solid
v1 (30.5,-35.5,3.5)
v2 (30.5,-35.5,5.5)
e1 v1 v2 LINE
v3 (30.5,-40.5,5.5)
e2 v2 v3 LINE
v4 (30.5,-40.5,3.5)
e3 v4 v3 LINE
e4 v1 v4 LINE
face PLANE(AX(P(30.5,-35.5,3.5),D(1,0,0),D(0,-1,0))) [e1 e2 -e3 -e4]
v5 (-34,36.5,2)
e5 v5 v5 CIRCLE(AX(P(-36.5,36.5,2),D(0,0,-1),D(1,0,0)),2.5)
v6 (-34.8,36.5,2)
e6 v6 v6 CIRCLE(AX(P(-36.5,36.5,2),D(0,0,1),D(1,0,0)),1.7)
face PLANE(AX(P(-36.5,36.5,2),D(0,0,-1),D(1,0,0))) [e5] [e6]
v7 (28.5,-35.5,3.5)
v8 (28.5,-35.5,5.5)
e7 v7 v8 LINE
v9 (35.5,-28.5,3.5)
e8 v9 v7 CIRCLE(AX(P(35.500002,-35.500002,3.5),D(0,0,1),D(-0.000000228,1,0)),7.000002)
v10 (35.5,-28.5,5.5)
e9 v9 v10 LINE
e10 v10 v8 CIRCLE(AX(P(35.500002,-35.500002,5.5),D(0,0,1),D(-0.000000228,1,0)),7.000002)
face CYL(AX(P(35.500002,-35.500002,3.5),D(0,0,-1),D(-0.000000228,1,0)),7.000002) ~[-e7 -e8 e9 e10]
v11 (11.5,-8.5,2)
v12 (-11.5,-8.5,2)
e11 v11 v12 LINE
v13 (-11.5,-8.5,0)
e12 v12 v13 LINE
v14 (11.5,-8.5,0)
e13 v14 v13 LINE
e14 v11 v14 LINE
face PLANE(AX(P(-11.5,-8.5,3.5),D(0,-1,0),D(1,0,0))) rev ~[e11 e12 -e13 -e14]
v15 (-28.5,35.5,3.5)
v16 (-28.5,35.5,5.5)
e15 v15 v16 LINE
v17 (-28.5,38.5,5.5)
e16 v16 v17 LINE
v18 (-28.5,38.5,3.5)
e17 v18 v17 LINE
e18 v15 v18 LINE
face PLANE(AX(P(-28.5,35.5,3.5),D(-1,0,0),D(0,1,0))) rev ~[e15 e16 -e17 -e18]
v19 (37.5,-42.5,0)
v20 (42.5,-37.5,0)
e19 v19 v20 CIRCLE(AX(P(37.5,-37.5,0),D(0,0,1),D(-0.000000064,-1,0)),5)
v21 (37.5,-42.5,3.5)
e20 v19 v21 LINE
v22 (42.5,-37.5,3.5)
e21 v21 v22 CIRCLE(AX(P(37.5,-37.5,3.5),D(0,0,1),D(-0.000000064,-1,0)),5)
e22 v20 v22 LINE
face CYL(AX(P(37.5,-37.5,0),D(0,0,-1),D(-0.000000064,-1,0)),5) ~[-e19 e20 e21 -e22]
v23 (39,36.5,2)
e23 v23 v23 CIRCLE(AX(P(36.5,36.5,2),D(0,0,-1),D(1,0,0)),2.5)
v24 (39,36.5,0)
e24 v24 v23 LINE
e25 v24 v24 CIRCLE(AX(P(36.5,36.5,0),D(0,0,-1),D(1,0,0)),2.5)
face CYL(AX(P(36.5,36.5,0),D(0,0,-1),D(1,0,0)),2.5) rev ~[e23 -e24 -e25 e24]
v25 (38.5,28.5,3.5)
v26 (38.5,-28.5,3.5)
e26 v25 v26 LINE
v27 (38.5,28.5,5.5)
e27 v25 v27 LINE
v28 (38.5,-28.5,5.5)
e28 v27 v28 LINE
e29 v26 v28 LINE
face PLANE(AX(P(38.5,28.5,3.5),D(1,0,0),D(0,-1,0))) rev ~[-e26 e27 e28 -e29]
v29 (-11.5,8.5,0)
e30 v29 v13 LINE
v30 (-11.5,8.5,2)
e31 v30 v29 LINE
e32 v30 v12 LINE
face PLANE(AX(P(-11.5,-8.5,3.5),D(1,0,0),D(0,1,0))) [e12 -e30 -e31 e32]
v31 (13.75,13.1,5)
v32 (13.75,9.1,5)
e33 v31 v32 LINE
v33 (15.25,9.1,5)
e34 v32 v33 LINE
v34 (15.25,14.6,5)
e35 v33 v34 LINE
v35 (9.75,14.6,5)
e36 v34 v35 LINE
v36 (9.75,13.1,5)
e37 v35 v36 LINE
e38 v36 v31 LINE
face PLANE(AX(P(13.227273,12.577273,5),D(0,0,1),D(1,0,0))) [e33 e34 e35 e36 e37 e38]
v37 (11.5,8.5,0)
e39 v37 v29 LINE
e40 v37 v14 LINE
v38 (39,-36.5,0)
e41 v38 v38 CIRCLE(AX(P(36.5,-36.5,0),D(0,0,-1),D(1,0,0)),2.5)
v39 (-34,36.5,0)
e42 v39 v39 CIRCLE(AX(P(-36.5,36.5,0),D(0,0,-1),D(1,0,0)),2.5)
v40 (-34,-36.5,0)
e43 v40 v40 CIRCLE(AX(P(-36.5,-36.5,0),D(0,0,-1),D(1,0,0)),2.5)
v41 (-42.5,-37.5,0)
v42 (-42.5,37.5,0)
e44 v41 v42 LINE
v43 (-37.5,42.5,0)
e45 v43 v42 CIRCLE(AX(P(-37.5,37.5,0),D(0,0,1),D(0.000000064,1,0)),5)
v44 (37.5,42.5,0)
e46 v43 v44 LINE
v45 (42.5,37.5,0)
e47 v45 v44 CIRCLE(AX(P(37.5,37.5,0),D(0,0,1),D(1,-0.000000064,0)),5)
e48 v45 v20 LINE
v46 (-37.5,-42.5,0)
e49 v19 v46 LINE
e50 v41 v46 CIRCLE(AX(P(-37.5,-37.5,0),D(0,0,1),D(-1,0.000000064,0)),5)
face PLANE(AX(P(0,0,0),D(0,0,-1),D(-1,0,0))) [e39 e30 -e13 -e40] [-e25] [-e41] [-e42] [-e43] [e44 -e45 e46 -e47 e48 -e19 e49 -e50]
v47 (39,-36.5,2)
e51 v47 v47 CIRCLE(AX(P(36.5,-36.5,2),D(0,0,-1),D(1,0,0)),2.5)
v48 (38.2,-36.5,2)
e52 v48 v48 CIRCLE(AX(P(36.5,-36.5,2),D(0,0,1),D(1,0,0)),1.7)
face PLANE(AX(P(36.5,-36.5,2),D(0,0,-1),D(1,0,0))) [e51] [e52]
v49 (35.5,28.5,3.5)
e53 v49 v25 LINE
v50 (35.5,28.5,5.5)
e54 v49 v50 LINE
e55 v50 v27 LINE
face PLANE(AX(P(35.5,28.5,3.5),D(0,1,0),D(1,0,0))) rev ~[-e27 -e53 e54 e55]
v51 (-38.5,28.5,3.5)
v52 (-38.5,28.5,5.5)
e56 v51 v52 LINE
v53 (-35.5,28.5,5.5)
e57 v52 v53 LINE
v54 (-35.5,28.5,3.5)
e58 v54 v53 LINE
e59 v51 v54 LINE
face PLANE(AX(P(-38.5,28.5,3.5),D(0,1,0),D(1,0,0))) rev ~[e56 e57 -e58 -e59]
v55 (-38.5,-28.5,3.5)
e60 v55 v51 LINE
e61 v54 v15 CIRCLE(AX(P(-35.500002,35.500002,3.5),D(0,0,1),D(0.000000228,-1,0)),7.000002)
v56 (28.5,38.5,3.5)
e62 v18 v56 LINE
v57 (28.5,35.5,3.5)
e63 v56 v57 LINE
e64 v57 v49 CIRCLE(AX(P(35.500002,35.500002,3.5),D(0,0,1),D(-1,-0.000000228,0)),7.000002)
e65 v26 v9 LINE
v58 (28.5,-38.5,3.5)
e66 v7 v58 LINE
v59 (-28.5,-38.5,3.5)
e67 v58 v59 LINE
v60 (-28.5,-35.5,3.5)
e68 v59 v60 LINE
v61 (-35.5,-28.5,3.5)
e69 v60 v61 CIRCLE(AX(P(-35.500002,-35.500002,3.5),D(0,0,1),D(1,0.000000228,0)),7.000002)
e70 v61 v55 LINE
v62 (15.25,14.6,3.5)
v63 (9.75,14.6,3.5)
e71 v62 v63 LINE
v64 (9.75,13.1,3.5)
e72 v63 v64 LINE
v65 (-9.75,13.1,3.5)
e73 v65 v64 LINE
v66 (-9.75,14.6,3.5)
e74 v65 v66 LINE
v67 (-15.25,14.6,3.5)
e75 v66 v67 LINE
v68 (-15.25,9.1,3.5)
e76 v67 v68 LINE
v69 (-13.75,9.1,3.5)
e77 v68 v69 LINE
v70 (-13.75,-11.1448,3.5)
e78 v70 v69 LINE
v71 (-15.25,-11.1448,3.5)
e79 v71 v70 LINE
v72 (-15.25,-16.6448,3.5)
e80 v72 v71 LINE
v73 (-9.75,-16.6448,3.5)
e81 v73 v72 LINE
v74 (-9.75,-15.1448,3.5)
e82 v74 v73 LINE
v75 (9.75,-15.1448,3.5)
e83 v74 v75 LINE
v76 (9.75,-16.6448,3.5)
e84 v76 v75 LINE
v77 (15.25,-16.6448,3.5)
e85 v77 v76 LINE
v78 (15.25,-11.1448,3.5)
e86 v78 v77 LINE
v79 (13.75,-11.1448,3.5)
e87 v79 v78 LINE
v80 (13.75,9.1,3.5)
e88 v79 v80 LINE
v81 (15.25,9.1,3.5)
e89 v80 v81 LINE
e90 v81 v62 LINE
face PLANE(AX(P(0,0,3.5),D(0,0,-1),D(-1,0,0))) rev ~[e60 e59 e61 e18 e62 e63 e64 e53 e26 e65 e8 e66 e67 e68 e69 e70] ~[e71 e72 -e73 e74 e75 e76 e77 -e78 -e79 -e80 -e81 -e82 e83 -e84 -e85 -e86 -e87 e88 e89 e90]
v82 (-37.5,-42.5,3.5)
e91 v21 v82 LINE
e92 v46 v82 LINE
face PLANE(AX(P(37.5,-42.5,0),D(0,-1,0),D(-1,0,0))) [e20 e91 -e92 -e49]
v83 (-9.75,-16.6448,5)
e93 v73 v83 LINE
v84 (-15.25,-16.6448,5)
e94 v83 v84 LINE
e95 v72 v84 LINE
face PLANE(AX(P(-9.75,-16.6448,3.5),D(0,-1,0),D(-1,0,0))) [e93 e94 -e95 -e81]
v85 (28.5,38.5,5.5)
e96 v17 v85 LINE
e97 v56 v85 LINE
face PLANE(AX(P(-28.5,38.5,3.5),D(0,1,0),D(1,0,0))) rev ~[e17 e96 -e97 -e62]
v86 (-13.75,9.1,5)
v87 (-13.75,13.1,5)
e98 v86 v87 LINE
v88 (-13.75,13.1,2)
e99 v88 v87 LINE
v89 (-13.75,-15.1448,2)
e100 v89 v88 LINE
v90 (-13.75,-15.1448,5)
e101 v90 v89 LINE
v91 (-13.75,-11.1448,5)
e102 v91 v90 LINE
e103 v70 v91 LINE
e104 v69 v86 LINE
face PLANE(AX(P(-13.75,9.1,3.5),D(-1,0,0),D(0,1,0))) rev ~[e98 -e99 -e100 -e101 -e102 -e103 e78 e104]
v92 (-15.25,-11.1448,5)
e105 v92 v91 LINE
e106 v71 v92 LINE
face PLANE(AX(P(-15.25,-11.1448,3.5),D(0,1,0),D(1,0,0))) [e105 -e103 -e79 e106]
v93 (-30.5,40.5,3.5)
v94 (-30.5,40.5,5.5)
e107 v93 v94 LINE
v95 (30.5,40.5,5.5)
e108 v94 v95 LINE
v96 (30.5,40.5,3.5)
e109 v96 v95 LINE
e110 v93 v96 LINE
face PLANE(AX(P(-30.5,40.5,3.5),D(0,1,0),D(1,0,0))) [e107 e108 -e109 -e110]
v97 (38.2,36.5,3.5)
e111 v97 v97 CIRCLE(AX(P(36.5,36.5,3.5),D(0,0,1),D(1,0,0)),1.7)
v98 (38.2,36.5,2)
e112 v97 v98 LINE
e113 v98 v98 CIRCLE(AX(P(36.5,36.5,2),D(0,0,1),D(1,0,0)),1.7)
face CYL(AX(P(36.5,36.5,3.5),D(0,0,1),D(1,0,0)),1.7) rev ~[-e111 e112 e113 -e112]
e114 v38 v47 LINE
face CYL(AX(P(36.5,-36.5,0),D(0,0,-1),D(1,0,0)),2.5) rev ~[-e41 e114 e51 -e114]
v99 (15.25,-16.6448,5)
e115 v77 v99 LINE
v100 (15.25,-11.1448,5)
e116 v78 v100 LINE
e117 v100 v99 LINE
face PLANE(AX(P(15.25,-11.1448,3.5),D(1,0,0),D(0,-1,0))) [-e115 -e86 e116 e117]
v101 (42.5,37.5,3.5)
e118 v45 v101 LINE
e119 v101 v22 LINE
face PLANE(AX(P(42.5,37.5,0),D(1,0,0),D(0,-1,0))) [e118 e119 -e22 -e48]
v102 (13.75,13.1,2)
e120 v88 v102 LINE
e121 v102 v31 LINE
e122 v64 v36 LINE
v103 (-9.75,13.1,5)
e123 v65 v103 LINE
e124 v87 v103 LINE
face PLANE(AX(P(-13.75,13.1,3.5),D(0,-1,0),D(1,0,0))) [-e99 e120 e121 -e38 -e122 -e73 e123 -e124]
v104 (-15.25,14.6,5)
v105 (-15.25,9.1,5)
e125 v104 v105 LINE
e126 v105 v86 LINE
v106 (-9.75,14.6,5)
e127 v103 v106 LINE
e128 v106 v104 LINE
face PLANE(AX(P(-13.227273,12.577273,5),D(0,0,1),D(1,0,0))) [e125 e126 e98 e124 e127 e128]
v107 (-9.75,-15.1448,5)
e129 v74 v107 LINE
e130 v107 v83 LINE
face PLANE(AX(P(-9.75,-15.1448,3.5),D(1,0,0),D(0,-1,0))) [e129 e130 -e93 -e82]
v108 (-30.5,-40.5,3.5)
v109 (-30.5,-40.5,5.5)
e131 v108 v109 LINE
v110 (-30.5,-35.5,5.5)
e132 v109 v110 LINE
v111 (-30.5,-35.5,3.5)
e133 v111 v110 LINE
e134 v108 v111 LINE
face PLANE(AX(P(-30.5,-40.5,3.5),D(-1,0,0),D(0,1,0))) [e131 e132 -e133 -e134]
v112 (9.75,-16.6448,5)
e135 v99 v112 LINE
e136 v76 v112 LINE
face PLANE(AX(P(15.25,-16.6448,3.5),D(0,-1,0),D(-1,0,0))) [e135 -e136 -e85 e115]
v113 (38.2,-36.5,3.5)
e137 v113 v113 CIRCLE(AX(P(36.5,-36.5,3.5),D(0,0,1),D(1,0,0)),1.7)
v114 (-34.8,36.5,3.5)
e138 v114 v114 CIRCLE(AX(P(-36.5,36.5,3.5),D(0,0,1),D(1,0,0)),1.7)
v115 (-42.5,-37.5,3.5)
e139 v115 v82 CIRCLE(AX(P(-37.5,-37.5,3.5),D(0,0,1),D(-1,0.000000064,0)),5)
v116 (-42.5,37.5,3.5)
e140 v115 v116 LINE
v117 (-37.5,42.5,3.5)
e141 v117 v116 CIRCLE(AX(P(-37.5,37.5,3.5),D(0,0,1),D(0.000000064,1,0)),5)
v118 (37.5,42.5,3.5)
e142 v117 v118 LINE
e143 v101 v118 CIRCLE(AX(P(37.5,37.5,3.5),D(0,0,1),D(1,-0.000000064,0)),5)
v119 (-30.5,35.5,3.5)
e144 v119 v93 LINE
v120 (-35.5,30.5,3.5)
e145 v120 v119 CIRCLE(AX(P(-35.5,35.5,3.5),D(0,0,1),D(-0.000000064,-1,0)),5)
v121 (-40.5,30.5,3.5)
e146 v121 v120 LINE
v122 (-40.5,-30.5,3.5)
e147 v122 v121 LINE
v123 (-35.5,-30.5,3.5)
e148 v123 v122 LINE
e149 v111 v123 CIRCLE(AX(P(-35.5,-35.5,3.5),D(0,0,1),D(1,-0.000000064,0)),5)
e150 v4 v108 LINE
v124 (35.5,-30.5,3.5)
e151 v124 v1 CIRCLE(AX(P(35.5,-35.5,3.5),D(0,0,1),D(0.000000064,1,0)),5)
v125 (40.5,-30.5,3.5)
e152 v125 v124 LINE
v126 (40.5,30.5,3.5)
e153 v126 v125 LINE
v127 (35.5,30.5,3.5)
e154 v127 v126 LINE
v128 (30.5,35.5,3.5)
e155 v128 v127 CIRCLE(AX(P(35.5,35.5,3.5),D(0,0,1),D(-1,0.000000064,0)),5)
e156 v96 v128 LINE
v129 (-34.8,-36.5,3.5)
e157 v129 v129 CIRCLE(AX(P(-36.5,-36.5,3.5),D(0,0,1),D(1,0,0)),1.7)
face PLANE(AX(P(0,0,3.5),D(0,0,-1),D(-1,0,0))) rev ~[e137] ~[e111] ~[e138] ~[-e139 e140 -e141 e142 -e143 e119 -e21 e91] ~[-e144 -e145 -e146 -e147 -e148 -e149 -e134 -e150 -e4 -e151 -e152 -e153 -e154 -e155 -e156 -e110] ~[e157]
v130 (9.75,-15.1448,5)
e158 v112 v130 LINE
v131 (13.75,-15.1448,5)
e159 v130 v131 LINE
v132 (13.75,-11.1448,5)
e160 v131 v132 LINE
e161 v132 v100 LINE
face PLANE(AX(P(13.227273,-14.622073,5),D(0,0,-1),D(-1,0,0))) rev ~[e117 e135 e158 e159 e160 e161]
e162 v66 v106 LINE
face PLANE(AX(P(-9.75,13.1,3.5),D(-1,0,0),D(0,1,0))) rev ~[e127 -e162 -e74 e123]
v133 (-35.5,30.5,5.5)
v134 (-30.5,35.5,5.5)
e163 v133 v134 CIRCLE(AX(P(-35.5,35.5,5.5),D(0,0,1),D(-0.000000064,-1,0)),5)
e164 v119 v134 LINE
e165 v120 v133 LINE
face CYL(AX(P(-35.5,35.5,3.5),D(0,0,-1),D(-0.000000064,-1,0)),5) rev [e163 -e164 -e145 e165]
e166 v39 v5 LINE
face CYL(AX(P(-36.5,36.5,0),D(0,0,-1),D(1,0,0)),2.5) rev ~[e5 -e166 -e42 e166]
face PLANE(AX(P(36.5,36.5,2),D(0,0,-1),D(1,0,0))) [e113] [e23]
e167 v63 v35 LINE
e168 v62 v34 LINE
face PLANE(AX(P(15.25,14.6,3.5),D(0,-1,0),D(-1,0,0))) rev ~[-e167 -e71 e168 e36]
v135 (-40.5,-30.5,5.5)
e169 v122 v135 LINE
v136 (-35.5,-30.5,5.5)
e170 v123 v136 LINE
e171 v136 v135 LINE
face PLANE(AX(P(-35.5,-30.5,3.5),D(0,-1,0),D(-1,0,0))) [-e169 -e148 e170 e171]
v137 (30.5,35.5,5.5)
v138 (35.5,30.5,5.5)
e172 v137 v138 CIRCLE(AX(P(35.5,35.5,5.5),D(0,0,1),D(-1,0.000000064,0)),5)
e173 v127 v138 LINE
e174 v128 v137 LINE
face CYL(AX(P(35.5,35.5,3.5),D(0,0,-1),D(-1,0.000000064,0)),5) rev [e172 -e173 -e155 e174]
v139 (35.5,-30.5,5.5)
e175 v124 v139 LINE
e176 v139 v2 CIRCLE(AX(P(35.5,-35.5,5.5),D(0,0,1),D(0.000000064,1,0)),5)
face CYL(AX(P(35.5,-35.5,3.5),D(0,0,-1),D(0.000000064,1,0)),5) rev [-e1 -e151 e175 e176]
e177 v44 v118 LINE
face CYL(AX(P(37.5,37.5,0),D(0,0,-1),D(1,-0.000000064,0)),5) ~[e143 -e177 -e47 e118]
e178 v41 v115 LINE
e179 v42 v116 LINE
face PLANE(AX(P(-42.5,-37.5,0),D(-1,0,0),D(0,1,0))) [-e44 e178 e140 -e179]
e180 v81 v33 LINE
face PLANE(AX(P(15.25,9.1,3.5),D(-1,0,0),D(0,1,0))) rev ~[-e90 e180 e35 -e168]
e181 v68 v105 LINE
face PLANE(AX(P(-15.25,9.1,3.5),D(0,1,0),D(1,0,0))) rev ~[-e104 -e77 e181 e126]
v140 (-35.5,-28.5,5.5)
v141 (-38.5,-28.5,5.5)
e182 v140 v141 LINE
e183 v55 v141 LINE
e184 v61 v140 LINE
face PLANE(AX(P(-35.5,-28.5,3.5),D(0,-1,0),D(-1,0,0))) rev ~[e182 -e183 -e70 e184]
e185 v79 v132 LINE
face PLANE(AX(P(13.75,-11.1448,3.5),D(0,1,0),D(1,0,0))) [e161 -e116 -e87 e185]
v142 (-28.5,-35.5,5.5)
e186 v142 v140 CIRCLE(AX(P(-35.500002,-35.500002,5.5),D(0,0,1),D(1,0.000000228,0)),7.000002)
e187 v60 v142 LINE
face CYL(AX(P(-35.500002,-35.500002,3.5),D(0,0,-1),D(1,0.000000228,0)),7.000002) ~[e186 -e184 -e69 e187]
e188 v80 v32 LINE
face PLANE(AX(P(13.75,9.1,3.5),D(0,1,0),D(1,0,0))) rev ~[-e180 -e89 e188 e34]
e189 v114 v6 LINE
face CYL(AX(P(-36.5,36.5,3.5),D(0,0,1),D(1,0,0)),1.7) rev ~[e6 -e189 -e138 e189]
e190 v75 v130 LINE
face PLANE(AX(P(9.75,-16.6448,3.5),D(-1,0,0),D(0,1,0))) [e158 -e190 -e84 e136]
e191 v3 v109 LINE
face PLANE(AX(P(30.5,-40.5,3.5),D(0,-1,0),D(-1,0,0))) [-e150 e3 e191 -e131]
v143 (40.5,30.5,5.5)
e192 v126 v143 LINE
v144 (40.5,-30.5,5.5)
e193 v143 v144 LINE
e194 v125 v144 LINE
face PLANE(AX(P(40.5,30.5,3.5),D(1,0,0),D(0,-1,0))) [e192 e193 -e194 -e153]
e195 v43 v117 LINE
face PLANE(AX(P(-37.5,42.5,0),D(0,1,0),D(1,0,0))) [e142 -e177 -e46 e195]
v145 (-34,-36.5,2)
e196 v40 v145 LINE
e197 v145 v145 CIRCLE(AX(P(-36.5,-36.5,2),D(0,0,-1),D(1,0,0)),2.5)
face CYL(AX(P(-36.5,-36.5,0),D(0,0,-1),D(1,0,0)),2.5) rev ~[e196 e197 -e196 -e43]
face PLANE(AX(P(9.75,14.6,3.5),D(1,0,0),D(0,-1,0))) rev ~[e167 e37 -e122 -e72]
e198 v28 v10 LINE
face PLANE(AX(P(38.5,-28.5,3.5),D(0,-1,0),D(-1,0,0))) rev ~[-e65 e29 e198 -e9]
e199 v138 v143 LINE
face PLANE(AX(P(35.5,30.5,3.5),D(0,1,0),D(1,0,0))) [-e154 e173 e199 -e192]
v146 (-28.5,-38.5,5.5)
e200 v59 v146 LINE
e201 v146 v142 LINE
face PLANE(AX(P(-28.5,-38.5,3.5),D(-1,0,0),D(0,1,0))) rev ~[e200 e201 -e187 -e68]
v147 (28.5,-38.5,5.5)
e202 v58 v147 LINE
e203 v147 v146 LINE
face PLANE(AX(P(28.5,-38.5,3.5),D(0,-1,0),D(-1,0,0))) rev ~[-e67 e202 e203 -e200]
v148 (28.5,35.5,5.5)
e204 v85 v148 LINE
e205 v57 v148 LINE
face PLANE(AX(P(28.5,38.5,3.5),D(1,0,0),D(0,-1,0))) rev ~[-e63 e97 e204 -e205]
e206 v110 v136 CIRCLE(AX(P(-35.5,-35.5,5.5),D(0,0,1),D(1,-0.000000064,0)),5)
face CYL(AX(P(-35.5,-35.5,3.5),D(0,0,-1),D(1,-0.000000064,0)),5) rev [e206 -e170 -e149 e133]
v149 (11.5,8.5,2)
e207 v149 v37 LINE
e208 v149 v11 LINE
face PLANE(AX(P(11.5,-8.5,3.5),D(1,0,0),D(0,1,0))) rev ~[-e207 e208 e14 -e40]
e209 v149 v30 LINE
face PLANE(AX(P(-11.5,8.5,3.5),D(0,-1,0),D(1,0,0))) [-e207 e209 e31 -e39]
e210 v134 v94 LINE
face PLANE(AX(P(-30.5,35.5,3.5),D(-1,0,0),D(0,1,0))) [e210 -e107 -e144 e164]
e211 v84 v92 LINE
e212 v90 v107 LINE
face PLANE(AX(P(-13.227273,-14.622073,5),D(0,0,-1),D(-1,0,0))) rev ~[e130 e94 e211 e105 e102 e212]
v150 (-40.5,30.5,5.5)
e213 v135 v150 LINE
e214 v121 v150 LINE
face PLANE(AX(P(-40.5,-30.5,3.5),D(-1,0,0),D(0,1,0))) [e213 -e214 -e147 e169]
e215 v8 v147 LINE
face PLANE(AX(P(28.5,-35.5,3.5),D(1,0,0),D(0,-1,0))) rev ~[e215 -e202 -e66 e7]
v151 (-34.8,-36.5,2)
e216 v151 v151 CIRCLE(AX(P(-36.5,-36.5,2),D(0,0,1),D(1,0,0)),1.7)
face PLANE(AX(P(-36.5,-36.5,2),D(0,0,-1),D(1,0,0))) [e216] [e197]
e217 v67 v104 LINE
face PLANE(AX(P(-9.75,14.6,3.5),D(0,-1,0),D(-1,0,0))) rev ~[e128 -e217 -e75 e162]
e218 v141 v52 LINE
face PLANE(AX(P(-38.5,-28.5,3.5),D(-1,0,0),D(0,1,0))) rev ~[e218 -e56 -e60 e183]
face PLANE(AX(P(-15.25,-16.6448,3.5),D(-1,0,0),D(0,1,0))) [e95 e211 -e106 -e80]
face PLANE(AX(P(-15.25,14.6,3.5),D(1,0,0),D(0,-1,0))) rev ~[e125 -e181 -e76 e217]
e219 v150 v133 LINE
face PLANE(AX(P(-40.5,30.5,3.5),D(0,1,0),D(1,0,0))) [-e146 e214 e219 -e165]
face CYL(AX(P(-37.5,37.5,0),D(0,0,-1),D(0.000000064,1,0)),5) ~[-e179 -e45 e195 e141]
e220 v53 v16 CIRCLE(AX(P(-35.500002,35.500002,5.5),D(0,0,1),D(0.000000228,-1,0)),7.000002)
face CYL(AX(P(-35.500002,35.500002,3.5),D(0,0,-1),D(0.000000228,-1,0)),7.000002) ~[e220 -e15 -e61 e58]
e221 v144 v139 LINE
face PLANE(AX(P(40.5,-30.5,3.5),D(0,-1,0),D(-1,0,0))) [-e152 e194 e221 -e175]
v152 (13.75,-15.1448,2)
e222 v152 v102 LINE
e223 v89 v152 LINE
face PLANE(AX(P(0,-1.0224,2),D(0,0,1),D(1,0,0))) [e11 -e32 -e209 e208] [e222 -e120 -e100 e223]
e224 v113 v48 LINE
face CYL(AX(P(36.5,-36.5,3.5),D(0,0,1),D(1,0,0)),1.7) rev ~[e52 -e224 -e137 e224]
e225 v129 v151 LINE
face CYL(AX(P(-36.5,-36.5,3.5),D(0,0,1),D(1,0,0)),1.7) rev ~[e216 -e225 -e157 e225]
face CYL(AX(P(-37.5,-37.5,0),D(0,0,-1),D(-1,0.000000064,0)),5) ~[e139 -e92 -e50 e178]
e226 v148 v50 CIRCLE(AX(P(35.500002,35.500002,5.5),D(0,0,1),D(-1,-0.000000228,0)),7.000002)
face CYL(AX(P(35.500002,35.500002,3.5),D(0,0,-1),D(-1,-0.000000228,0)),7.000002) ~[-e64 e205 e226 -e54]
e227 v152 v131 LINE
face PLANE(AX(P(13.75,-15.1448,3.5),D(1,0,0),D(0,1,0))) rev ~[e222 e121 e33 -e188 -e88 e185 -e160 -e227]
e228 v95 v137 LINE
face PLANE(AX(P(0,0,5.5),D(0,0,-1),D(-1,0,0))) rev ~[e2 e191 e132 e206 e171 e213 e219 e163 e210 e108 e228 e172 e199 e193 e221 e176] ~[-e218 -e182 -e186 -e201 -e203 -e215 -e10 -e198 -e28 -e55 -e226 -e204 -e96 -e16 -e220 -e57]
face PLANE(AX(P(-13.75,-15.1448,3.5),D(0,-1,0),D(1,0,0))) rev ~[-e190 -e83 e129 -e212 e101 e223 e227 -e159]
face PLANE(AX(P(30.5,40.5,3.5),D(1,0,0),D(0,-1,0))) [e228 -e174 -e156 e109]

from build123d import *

# Parameters (mm, degrees)
PAD_DEPTH       = 3.5
PAD001_DEPTH    = 2
SKETCH002_R     = 1.7
POCKET_DEPTH    = 5
SKETCH003_W     = 23
SKETCH003_H     = 17
POCKET001_DEPTH = 5
SKETCH004_W     = 27.5
SKETCH004_H     = 28.2448
POCKET002_DEPTH = 1.5
PAD002_DEPTH    = 1.5
SKETCH006_R     = 2.5
POCKET003_DEPTH = 2


with BuildPart() as part:
    # Sketch → Pad (new body)
    with BuildSketch(Plane.XY):
        with BuildLine():
            Line((-37.5, 42.5), (37.5, 42.5))
            ThreePointArc((42.5, 37.5), (41.035534, 41.035534), (37.5, 42.5))
            Line((42.5, 37.5), (42.5, -37.5))
            ThreePointArc((37.5, -42.5), (41.035534, -41.035534), (42.5, -37.5))
            Line((37.5, -42.5), (-37.5, -42.5))
            ThreePointArc((-42.5, -37.5), (-41.035534, -41.035534), (-37.5, -42.5))
            Line((-42.5, -37.5), (-42.5, 37.5))
            ThreePointArc((-37.5, 42.5), (-41.035534, 41.035534), (-42.5, 37.5))
        make_face()
    extrude(amount=PAD_DEPTH)

    # Sketch001 (on Face10 of Pad) → Pad001 (join)
    with BuildSketch(Plane.XY.offset(3.5)):
        with BuildLine():
            Line((-30.5, 40.5), (30.5, 40.5))
            Line((30.5, 40.5), (30.5, 35.5))
            ThreePointArc((30.5, 35.5), (31.964466, 31.964466), (35.5, 30.5))
            Line((35.5, 30.5), (40.5, 30.5))
            Line((40.5, 30.5), (40.5, -30.5))
            Line((40.5, -30.5), (35.5, -30.5))
            ThreePointArc((35.5, -30.5), (31.964466, -31.964466), (30.5, -35.5))
            Line((30.5, -35.5), (30.5, -40.5))
            Line((30.5, -40.5), (-30.5, -40.5))
            Line((-30.5, -40.5), (-30.5, -35.5))
            ThreePointArc((-30.5, -35.5), (-31.964466, -31.964466), (-35.5, -30.5))
            Line((-35.5, -30.5), (-40.5, -30.5))
            Line((-40.5, -30.5), (-40.5, 30.5))
            Line((-40.5, 30.5), (-35.5, 30.5))
            ThreePointArc((-35.5, 30.5), (-31.964466, 31.964466), (-30.5, 35.5))
            Line((-30.5, 35.5), (-30.5, 40.5))
        make_face()
        with BuildLine():
            Line((-28.5, 38.5), (28.5, 38.5))
            Line((28.5, 38.5), (28.5, 35.5))
            ThreePointArc((28.5, 35.5), (30.550253, 30.550253), (35.5, 28.5))
            Line((35.5, 28.5), (38.5, 28.5))
            Line((38.5, 28.5), (38.5, -28.5))
            Line((38.5, -28.5), (35.5, -28.5))
            ThreePointArc((35.5, -28.5), (30.550253, -30.550253), (28.5, -35.5))
            Line((28.5, -35.5), (28.5, -38.5))
            Line((28.5, -38.5), (-28.5, -38.5))
            Line((-28.5, -38.5), (-28.5, -35.5))
            ThreePointArc((-28.5, -35.5), (-30.550253, -30.550253), (-35.5, -28.5))
            Line((-35.5, -28.5), (-38.5, -28.5))
            Line((-38.5, -28.5), (-38.5, 28.5))
            Line((-38.5, 28.5), (-35.5, 28.5))
            ThreePointArc((-35.5, 28.5), (-30.550253, 30.550253), (-28.5, 35.5))
            Line((-28.5, 35.5), (-28.5, 38.5))
        make_face(mode=Mode.SUBTRACT)
    extrude(amount=PAD001_DEPTH)

    # Sketch002 (on Face5 of Pad001) → Pocket (cut)
    with BuildSketch(Plane.XY.offset(3.5)):
        with Locations((-36.5, 36.5)):
            Circle(SKETCH002_R)
        with Locations((36.5, 36.5)):
            Circle(SKETCH002_R)
        with Locations((-36.5, -36.5)):
            Circle(SKETCH002_R)
        with Locations((36.5, -36.5)):
            Circle(SKETCH002_R)
    extrude(amount=-POCKET_DEPTH, mode=Mode.SUBTRACT)

    # Sketch003 (on Face48 of Pocket) → Pocket001 (cut)
    with BuildSketch(Plane.XY.offset(3.5)):
        Rectangle(SKETCH003_W, SKETCH003_H)
    extrude(amount=-POCKET001_DEPTH, mode=Mode.SUBTRACT)

    # Sketch004 (on Face35 of Pocket001) → Pocket002 (cut)
    with BuildSketch(Plane.XY.offset(3.5)):
        with Locations((0, -1.0224)):
            Rectangle(SKETCH004_W, SKETCH004_H)
    extrude(amount=-POCKET002_DEPTH, mode=Mode.SUBTRACT)

    # Sketch005 (on Face57 of Pocket002) → Pad002 (join)
    with BuildSketch(Plane.XY.offset(3.5)):
        Polygon((-15.25, 14.6), (-15.25, 9.1), (-13.75, 9.1), (-13.75, 13.1), (-9.75, 13.1), (-9.75, 14.6), align=None)
        Polygon((9.75, 13.1), (13.75, 13.1), (13.75, 9.1), (15.25, 9.1), (15.25, 14.6), (9.75, 14.6), align=None)
        Polygon((9.75, -15.1448), (13.75, -15.1448), (13.75, -11.1448), (15.25, -11.1448), (15.25, -16.6448), (9.75, -16.6448), align=None)
        Polygon((-13.75, -11.1448), (-13.75, -15.1448), (-9.75, -15.1448), (-9.75, -16.6448), (-15.25, -16.6448), (-15.25, -11.1448), align=None)
    extrude(amount=PAD002_DEPTH)

    # Sketch006 (on Face4 of Pad002) → Pocket003 (cut)
    with BuildSketch(Plane(origin=(0, 0, 0), x_dir=(1, 0, 0), z_dir=(0, 0, -1))):
        with Locations((-36.5, 36.5)):
            Circle(SKETCH006_R)
        with Locations((36.5, 36.5)):
            Circle(SKETCH006_R)
        with Locations((36.5, -36.5)):
            Circle(SKETCH006_R)
        with Locations((-36.5, -36.5)):
            Circle(SKETCH006_R)
    extrude(amount=-POCKET003_DEPTH, mode=Mode.SUBTRACT)


solid = part.part
